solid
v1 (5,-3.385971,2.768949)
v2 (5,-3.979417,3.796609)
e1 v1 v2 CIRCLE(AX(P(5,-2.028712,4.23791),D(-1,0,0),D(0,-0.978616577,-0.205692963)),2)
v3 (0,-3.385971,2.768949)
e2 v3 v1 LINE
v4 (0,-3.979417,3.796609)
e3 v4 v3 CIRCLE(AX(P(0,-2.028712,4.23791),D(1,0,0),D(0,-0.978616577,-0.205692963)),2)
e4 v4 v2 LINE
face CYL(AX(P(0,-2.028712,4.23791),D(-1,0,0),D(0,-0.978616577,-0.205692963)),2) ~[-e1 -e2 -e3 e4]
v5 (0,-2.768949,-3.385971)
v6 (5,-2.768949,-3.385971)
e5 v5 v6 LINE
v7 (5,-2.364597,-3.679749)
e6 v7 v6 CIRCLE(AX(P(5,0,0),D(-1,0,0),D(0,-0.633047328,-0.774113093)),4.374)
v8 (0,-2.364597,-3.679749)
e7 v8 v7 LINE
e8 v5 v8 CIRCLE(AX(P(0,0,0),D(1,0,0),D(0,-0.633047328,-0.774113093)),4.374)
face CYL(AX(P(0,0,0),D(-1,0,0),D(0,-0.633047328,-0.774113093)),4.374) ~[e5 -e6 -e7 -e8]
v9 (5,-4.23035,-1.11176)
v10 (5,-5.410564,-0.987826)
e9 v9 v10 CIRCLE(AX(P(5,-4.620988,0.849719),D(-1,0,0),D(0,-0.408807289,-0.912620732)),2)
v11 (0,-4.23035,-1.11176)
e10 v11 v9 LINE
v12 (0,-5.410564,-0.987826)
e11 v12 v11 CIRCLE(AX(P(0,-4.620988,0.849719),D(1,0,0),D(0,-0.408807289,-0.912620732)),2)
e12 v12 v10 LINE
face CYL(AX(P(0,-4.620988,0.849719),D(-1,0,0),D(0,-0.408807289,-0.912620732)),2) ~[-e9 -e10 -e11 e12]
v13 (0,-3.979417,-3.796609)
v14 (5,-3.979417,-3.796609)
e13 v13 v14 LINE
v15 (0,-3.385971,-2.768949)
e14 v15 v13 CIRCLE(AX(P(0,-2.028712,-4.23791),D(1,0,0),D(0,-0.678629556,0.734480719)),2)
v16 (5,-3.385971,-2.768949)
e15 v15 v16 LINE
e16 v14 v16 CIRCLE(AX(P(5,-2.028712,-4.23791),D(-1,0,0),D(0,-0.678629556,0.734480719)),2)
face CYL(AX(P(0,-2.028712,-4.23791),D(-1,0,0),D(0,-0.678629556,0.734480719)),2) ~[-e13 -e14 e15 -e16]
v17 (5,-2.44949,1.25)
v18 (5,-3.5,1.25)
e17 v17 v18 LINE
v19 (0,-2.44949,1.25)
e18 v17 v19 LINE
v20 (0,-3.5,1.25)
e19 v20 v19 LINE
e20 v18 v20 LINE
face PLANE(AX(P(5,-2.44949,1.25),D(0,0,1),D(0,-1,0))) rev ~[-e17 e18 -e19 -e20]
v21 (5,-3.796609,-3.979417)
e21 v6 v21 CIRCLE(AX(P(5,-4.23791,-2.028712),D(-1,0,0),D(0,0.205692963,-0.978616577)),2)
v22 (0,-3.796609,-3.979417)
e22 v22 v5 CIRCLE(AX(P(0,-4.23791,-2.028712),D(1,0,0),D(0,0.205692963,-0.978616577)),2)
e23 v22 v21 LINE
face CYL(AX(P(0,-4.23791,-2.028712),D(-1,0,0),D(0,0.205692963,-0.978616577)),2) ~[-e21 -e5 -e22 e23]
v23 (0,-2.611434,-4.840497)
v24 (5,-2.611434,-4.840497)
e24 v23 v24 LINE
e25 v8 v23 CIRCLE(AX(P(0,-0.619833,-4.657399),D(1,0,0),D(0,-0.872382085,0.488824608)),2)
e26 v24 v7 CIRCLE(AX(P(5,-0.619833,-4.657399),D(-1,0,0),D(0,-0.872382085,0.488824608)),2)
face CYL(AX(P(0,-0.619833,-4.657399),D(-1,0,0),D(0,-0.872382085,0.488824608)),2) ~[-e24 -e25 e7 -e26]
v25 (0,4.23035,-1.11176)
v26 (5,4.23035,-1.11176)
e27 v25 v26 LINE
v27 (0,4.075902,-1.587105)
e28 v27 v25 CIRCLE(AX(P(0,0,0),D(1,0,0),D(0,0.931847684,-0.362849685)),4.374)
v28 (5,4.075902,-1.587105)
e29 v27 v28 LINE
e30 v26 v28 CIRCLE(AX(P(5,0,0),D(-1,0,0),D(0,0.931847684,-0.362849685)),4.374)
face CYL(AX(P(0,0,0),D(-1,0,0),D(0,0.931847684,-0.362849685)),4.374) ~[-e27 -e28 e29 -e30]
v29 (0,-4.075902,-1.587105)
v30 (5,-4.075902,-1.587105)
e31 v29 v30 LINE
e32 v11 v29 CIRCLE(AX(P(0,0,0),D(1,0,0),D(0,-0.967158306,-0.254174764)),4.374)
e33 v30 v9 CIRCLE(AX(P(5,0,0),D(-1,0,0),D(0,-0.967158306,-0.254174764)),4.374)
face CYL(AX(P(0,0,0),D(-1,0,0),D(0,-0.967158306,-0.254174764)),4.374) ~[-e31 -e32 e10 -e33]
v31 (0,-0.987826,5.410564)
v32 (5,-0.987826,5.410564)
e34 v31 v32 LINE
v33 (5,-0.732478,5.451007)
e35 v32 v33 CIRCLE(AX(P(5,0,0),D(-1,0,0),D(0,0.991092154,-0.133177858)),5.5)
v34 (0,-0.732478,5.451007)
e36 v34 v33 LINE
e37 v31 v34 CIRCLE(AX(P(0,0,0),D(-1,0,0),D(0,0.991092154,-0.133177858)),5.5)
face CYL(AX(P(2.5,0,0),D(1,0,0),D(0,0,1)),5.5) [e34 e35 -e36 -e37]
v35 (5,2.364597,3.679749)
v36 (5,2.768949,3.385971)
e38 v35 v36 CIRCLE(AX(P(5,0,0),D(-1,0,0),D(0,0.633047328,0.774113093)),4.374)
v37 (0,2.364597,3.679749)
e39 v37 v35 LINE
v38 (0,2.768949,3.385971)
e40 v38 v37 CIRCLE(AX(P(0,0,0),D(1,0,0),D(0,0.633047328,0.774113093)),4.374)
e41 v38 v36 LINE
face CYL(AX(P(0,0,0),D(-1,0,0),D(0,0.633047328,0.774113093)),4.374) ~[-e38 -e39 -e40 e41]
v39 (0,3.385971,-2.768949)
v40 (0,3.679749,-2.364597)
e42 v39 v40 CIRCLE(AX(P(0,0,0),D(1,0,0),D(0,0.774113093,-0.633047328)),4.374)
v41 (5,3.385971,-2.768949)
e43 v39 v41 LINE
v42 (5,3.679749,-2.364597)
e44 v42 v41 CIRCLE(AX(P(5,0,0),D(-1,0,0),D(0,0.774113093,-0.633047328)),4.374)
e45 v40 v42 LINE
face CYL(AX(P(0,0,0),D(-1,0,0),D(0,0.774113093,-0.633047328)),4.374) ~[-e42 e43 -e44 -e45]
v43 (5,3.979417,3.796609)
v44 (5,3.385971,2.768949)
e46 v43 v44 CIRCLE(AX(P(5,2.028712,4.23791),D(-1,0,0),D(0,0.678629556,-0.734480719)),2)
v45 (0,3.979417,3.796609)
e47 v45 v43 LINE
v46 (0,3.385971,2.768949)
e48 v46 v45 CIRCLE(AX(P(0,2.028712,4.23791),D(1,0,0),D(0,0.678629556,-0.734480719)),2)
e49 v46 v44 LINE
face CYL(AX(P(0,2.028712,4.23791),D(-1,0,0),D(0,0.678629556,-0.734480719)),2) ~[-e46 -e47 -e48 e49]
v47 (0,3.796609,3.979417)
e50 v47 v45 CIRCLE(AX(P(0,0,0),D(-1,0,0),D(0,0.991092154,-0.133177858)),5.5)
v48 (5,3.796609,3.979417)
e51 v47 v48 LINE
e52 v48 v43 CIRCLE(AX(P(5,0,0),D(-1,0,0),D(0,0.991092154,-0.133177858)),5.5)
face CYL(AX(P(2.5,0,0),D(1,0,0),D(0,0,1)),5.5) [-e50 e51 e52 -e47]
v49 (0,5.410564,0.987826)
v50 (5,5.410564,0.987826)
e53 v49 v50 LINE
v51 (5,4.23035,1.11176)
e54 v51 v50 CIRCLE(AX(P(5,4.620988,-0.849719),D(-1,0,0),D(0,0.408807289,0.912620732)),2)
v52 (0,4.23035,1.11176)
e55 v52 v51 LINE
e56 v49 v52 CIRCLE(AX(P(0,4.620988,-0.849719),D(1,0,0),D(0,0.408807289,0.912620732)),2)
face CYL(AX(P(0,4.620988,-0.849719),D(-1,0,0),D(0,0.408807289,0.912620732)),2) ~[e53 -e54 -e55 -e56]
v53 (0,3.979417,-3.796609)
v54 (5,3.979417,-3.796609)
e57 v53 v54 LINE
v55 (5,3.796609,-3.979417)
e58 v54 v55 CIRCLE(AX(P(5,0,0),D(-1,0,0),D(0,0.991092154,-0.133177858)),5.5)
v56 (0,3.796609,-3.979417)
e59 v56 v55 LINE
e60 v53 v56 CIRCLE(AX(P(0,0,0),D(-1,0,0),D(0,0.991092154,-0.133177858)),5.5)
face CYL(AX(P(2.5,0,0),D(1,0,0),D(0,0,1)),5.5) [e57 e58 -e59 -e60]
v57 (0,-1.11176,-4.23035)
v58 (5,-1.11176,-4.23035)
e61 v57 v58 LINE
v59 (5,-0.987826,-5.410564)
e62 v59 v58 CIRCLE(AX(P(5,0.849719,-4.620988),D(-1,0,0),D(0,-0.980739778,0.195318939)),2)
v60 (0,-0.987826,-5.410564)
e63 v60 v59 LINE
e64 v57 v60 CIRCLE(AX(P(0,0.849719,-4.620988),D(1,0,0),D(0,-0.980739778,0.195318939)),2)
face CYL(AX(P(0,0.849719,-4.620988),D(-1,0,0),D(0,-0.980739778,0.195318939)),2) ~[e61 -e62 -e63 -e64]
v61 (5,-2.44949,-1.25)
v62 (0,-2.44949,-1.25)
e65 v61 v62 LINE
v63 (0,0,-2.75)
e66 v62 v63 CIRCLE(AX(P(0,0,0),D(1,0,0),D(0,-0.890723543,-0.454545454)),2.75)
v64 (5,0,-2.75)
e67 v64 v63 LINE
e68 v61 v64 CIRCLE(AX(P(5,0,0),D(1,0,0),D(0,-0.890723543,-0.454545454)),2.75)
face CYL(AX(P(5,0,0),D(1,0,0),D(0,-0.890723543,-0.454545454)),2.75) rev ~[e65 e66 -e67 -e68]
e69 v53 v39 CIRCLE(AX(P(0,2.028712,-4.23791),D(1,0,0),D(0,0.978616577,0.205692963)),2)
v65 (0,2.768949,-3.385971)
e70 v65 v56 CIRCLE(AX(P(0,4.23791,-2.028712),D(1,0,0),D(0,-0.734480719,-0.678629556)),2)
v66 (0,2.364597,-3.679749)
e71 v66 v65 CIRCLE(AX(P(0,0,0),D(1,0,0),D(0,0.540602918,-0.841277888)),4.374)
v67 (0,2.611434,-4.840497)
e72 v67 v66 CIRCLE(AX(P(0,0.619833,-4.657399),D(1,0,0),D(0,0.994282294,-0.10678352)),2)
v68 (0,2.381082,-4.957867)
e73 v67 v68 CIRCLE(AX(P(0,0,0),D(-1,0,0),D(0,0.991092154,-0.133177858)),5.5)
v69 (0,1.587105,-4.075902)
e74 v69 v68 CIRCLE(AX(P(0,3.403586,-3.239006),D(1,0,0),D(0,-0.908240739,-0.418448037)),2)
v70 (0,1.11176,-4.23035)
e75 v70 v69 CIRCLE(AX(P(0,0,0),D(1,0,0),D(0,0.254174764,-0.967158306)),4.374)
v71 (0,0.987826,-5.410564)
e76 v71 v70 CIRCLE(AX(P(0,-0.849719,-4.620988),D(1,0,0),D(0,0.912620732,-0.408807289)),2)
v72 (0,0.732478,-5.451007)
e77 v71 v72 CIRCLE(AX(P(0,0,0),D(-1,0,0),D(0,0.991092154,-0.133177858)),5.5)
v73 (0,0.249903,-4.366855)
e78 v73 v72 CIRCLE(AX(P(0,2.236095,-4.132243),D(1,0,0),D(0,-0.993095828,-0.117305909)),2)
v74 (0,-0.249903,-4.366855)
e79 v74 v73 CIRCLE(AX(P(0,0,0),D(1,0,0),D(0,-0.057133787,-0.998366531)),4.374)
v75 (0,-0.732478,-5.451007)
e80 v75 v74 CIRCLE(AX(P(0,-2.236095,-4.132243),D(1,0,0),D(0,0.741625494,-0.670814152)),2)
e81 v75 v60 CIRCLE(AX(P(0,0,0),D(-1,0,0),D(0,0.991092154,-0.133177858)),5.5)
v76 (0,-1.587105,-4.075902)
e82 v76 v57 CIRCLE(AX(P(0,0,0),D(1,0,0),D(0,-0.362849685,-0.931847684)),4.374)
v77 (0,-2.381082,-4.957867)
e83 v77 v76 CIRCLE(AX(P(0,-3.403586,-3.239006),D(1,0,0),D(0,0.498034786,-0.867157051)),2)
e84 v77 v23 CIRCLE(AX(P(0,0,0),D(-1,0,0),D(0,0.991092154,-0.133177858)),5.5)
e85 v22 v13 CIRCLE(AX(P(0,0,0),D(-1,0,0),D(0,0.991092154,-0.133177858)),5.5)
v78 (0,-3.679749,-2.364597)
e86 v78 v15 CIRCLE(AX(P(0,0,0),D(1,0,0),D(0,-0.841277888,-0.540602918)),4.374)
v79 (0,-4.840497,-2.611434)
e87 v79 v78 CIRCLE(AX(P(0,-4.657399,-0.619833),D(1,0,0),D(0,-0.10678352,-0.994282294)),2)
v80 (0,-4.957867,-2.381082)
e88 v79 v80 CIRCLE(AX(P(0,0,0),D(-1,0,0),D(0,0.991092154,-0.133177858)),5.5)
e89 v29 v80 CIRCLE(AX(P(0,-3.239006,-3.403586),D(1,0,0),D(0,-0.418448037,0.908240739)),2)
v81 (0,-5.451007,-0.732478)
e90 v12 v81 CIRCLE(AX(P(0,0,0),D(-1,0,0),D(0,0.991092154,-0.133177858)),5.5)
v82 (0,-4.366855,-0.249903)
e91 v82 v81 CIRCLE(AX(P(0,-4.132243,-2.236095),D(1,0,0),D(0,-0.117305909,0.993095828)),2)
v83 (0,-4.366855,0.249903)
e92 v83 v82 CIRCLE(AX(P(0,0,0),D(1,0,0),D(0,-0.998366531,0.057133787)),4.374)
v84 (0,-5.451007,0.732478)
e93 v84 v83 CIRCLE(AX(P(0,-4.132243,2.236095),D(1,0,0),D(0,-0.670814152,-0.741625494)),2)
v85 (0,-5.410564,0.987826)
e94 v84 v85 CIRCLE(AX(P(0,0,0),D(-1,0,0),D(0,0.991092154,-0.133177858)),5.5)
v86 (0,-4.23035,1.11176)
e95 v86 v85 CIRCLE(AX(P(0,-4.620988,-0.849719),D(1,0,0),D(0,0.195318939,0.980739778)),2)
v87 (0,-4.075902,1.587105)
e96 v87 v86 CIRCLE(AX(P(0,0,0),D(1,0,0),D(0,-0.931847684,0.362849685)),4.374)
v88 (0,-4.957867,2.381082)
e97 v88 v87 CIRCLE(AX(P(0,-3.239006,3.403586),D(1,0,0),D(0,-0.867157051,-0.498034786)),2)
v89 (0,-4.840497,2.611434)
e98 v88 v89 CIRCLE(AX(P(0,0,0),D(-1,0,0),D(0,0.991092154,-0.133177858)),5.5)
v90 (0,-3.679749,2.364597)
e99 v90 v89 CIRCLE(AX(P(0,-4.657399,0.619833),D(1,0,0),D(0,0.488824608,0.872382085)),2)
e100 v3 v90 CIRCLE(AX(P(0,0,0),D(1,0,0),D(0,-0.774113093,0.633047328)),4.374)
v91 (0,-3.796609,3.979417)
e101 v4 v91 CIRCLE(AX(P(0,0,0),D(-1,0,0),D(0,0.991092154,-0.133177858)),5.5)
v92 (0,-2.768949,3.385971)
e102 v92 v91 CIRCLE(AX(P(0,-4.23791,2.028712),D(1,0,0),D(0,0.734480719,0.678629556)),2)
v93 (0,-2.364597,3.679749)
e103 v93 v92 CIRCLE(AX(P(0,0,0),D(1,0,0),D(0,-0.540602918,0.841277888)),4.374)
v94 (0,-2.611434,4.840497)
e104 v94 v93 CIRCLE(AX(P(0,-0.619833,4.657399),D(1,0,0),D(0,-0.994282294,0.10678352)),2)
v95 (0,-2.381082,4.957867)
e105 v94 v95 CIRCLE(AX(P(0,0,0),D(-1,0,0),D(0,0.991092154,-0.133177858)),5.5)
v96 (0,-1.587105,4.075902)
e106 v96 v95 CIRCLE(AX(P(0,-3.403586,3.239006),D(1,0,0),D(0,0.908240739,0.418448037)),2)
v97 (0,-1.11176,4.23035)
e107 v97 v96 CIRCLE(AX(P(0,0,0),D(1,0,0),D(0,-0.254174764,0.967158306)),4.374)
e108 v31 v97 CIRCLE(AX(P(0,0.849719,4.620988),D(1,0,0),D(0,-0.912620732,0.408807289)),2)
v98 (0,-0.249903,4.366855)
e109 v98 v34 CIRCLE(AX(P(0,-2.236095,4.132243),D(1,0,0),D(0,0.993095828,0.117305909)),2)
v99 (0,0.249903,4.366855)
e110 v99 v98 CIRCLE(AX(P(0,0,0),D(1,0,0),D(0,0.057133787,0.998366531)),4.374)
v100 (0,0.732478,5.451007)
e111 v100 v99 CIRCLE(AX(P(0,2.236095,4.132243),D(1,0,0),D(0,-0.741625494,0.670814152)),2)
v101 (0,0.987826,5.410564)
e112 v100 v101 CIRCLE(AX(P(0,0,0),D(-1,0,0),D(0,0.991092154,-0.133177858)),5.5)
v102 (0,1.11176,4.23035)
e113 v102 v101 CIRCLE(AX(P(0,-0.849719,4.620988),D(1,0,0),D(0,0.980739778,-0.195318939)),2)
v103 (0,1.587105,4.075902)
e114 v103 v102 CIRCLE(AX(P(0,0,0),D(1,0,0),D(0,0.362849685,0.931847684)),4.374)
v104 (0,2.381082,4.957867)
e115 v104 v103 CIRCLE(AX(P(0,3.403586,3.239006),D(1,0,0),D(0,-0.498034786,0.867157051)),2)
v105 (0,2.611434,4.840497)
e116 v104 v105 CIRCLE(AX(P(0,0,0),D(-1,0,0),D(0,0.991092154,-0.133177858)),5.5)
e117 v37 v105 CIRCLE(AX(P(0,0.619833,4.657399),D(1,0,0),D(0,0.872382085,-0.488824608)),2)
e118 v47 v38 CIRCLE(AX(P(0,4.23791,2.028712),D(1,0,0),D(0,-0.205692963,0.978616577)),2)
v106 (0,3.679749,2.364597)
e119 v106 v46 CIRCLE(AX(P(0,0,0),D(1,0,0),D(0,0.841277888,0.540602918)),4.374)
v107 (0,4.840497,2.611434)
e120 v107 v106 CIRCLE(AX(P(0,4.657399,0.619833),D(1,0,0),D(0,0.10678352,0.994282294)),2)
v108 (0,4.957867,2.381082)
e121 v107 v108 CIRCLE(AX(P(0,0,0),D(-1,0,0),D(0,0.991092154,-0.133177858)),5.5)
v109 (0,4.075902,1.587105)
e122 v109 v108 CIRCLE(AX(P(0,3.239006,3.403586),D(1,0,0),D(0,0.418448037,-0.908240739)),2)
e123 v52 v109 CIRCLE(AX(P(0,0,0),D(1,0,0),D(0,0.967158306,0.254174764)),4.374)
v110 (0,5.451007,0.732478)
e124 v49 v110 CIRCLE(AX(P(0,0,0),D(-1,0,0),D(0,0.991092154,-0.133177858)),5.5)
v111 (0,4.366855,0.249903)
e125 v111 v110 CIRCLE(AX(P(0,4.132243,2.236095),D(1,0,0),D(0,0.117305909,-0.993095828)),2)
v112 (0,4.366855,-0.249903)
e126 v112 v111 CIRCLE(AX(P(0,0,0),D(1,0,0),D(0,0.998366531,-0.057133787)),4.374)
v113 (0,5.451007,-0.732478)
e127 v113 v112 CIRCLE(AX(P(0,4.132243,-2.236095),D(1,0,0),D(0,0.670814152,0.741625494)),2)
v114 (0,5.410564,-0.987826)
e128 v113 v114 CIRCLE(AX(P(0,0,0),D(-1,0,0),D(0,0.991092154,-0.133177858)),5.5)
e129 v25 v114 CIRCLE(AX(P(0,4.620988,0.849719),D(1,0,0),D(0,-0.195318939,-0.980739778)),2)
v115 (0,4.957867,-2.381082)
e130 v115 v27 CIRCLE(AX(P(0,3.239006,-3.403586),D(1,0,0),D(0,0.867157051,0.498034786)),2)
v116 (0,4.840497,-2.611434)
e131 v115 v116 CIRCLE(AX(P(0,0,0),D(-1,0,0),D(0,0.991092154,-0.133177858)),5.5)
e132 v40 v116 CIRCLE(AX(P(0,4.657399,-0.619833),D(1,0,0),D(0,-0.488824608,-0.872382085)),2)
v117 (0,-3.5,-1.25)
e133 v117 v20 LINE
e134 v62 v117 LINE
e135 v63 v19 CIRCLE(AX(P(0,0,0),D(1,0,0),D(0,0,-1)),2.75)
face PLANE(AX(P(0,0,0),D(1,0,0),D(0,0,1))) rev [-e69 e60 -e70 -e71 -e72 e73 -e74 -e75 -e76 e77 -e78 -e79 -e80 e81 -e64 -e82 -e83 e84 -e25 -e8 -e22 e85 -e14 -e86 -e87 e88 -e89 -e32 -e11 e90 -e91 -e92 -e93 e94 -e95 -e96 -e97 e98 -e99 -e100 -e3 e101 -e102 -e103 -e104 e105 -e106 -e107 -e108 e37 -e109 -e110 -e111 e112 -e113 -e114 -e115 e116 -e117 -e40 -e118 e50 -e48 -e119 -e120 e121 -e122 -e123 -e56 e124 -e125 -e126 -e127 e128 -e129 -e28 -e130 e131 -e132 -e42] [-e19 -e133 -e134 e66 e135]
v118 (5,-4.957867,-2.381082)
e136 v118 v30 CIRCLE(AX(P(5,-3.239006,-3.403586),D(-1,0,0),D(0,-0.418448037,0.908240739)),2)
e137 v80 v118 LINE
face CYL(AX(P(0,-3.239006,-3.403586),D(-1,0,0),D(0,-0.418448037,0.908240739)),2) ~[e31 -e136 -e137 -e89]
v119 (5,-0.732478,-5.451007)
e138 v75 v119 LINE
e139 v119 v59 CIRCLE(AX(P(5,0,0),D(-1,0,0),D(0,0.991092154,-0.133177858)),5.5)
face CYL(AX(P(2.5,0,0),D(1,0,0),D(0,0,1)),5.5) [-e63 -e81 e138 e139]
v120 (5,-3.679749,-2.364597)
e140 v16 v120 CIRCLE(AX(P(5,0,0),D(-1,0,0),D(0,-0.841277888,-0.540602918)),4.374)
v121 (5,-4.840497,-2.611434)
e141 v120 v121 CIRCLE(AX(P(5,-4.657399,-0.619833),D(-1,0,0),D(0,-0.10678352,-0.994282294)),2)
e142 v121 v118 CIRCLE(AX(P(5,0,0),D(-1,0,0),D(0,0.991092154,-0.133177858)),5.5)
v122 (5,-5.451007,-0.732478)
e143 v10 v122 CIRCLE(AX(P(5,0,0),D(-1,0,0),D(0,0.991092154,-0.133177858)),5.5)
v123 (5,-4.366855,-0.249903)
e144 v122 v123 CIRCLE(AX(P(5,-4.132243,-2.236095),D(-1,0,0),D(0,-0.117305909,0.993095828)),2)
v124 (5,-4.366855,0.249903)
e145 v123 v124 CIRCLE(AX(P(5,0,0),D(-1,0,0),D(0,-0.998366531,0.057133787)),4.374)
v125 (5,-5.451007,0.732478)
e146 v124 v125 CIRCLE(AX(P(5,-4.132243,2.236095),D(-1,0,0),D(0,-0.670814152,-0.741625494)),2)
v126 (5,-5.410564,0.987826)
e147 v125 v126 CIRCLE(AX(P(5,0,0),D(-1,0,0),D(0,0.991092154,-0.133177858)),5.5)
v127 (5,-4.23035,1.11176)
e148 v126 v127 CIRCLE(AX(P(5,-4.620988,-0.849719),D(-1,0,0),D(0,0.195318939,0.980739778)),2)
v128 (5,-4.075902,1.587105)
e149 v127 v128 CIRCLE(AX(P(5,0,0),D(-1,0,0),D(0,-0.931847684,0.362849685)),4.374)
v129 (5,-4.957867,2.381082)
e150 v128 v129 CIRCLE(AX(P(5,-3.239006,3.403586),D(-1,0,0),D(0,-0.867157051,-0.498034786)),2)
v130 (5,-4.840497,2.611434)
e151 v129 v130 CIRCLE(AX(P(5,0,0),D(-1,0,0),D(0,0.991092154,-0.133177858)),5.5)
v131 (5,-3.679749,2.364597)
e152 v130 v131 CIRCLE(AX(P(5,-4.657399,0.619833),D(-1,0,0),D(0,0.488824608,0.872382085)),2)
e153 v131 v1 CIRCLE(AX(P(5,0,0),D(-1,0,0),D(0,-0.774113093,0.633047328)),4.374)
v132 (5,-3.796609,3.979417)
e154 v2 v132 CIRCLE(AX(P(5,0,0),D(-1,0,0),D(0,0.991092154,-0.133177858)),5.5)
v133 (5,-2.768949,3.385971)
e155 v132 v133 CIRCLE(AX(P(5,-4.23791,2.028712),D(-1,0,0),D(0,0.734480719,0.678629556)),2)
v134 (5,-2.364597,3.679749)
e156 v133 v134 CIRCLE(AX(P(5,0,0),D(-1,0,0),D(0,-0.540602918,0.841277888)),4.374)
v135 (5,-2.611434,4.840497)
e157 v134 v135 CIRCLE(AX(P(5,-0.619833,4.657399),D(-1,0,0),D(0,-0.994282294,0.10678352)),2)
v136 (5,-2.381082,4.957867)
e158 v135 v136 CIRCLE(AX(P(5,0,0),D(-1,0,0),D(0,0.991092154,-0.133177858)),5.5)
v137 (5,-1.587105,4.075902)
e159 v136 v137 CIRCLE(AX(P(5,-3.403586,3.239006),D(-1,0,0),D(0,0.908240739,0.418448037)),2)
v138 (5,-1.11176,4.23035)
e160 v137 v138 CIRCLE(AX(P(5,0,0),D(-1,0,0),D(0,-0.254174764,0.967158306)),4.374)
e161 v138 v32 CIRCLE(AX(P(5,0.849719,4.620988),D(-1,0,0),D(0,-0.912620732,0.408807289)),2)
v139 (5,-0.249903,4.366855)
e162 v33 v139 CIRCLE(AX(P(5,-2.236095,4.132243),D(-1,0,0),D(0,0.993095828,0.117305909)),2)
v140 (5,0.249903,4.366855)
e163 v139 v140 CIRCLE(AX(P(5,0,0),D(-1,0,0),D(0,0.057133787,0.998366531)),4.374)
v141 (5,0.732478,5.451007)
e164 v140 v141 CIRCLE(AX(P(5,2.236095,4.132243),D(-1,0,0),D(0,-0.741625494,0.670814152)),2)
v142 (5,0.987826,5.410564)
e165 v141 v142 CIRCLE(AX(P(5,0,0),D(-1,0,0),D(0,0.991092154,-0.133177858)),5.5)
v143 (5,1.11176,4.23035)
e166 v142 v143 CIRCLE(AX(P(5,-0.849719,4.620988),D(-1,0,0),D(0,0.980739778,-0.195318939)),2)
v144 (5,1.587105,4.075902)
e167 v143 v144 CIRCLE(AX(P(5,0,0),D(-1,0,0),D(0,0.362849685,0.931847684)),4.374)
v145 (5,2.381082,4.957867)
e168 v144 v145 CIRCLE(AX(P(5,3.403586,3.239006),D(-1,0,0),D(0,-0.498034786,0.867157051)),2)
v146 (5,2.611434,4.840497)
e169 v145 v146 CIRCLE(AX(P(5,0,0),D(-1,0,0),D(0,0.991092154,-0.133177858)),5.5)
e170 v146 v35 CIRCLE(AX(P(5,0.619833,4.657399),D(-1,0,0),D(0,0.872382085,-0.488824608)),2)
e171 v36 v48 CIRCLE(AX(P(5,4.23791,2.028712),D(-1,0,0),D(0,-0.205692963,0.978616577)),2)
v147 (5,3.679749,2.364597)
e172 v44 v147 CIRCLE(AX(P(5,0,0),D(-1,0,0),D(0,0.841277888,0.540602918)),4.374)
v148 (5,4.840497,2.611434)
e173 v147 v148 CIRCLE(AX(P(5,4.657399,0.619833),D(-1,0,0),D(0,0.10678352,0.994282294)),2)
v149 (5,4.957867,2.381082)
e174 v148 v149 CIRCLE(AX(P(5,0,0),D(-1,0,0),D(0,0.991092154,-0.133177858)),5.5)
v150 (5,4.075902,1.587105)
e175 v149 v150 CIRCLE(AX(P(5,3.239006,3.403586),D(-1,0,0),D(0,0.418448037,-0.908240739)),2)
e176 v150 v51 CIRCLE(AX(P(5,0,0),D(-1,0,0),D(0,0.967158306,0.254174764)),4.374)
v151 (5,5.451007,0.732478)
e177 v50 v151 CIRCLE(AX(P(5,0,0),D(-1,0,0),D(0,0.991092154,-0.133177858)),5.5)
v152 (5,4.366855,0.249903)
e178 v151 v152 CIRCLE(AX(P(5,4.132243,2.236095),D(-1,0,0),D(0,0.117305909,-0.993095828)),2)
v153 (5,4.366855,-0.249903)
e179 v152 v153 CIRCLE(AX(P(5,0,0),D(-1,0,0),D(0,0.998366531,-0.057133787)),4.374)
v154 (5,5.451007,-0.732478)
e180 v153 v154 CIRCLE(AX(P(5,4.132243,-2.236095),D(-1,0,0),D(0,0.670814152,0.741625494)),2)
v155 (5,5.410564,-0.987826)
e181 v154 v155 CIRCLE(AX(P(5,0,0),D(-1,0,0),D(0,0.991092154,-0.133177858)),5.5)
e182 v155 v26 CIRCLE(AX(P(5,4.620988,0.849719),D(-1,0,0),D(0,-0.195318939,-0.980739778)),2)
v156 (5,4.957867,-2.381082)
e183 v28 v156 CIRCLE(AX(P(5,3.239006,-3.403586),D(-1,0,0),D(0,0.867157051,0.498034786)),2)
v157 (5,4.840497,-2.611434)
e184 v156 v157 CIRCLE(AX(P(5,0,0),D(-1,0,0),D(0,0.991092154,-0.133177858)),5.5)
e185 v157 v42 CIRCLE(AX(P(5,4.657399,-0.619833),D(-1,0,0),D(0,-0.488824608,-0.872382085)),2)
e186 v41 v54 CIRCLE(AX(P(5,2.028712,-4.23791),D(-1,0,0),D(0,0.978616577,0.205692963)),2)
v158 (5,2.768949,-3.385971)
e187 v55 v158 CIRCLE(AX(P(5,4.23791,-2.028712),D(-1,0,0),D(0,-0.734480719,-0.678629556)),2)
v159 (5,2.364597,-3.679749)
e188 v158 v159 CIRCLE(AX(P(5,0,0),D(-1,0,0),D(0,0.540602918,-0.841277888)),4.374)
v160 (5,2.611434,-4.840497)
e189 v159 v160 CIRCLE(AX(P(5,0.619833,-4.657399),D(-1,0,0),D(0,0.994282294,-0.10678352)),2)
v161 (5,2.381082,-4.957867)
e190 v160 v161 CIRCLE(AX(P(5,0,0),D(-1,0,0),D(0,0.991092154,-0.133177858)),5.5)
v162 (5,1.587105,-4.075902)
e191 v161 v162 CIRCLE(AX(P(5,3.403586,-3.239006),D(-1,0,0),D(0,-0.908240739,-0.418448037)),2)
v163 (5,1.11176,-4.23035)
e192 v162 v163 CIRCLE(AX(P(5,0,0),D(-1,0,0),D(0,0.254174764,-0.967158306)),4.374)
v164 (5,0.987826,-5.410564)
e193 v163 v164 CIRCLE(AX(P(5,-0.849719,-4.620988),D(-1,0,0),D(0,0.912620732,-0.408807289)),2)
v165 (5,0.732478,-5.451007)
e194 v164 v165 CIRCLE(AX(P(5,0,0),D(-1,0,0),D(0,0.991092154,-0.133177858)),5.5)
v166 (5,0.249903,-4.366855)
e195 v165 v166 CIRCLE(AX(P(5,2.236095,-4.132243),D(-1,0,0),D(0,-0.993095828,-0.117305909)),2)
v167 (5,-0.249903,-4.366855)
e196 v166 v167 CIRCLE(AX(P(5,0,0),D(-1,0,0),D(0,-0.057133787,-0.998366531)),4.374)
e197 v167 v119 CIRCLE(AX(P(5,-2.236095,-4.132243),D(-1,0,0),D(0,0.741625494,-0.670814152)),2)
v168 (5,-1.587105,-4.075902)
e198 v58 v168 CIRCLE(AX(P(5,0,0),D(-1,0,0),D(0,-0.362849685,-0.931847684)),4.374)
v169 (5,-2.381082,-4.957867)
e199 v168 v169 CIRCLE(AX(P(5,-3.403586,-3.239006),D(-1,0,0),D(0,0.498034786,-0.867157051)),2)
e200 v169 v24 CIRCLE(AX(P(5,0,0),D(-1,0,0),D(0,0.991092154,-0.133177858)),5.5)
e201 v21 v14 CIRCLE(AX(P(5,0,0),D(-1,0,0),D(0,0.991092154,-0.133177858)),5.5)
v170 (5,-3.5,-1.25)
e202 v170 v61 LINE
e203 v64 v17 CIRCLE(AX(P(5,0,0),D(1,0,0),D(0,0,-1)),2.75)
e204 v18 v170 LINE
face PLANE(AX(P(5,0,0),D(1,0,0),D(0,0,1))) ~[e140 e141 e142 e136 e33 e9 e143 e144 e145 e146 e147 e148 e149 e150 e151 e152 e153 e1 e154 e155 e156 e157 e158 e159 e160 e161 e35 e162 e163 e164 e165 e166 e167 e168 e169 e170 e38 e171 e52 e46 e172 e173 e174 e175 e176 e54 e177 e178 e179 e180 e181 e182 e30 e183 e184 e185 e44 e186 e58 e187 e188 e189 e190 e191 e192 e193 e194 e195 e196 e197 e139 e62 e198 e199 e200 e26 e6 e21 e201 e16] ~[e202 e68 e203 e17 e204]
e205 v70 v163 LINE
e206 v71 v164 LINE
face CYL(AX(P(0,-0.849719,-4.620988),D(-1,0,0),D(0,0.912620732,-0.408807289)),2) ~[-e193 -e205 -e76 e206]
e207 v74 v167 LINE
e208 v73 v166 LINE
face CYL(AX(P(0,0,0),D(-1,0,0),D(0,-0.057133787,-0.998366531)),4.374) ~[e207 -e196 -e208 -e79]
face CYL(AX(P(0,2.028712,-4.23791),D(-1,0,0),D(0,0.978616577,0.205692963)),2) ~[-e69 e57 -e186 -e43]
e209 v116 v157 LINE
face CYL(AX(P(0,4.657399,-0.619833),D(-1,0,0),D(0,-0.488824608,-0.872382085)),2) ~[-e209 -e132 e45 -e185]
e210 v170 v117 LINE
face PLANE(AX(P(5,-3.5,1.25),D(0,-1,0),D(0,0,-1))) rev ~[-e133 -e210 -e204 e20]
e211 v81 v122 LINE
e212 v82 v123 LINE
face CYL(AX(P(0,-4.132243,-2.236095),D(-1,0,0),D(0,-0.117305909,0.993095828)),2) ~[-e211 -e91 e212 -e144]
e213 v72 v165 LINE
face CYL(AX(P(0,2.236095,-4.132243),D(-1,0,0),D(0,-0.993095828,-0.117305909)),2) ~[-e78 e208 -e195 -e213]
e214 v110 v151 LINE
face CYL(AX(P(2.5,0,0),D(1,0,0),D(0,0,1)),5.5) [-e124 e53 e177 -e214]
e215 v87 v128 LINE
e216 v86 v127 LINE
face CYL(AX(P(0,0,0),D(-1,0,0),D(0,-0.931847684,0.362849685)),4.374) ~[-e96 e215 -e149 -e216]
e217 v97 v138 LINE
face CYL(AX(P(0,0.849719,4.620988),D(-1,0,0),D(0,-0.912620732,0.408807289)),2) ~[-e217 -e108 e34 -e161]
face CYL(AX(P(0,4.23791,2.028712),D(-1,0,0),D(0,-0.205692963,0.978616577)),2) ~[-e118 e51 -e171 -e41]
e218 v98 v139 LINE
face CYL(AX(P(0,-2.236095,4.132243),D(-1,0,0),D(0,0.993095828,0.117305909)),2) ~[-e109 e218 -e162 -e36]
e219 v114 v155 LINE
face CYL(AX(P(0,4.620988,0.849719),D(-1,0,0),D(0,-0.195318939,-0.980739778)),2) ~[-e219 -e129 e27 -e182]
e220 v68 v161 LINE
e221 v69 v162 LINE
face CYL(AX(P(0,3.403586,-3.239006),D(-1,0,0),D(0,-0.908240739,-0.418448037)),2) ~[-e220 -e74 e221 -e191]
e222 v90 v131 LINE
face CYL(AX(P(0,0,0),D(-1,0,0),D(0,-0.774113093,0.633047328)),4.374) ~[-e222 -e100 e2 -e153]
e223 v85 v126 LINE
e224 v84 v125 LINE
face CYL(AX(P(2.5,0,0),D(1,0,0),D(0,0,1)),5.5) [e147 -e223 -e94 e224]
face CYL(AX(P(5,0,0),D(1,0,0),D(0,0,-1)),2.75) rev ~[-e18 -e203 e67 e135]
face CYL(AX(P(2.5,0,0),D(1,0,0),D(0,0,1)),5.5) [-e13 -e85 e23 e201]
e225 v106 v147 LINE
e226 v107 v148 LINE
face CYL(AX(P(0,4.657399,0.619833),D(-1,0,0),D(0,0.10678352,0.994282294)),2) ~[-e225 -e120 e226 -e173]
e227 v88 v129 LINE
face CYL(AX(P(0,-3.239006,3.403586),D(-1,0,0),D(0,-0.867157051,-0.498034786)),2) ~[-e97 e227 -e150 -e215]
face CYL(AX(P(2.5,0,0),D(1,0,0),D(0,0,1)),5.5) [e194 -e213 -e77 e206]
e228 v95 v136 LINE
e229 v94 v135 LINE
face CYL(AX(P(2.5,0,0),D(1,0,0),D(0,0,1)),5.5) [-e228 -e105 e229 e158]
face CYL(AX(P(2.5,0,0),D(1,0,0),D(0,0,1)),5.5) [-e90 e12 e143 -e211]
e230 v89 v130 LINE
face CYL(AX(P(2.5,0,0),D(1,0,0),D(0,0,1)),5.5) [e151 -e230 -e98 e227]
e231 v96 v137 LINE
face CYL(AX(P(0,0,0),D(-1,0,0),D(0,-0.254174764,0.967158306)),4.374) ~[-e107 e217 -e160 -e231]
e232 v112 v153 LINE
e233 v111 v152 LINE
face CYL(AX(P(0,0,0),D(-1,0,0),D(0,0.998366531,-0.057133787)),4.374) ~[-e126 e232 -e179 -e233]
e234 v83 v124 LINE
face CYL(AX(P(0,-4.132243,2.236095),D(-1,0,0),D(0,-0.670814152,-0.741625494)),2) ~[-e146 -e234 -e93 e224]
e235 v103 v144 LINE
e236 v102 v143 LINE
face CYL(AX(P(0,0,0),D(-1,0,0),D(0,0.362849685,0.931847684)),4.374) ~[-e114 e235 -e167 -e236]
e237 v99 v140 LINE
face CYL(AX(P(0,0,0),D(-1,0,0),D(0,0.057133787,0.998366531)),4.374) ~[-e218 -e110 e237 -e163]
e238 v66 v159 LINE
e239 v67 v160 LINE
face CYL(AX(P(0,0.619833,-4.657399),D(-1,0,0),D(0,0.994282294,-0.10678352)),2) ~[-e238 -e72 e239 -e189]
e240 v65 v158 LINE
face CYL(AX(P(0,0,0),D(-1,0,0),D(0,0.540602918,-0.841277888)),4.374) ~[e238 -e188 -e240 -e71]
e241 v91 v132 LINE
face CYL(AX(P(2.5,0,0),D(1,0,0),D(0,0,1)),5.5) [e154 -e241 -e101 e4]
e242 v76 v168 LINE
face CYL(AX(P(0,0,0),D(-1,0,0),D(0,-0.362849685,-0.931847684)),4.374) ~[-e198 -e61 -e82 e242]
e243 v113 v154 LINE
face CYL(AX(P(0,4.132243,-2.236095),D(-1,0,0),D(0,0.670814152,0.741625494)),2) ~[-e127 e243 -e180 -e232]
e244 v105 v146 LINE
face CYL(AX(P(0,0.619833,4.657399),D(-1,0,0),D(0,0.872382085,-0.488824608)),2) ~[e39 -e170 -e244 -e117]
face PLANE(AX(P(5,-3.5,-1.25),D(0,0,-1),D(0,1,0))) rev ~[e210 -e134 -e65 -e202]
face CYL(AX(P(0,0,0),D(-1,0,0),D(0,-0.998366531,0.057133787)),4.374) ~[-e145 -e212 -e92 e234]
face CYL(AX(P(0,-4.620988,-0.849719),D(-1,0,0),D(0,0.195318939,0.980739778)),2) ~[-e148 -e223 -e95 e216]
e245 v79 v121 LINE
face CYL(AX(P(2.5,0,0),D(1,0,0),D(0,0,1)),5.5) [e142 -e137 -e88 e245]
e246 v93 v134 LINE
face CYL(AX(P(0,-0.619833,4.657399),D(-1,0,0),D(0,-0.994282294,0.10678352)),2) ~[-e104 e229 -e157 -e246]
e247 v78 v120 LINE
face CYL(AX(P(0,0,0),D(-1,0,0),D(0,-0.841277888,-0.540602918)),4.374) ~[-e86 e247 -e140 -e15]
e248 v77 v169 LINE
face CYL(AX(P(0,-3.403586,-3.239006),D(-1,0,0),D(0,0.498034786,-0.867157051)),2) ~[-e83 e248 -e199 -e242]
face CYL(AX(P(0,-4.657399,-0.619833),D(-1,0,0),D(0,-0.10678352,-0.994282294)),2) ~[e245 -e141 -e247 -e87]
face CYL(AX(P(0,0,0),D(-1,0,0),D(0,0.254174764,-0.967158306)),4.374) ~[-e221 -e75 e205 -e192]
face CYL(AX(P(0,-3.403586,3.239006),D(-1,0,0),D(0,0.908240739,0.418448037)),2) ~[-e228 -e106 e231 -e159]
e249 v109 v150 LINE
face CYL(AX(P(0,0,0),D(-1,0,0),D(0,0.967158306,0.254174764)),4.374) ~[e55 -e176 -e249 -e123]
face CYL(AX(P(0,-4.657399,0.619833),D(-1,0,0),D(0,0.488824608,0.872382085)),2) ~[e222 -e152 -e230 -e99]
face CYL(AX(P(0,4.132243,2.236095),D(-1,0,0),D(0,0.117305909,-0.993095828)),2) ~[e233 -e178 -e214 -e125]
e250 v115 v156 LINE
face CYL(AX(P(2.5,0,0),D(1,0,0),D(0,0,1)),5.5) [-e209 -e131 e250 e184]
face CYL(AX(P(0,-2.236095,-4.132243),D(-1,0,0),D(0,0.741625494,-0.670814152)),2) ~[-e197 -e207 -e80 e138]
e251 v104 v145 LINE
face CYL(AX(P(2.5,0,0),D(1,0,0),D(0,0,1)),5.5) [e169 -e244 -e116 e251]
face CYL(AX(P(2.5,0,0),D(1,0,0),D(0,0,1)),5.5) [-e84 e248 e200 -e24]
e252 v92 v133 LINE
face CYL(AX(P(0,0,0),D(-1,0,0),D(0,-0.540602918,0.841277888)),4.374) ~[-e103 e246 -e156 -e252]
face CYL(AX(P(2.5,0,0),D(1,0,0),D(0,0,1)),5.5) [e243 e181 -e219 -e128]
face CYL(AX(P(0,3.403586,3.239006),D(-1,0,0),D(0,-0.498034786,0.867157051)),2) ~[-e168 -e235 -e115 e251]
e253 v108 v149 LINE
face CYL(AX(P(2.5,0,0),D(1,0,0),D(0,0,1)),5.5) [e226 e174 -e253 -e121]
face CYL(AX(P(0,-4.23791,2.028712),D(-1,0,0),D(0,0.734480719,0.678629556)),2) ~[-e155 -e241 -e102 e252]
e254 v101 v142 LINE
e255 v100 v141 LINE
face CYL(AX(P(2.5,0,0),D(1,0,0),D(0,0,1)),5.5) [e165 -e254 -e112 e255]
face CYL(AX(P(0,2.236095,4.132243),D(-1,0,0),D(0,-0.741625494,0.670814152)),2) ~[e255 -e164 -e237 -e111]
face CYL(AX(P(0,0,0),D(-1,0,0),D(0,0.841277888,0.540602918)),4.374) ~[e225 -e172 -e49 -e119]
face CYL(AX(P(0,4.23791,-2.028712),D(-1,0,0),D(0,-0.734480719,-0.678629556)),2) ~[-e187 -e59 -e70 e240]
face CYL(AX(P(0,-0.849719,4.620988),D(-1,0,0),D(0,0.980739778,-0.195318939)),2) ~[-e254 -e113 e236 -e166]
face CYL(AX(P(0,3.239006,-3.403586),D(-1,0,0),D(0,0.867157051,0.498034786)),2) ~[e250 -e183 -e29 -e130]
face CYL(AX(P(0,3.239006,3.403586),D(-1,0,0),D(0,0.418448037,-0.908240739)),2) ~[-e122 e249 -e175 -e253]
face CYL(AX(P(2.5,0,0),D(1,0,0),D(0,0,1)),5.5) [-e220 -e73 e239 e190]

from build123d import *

# Parameters (mm, degrees)
BASPROSKE_W             = 5
BASPROSKE_H             = 5.5
TOOTHCUT_DEPTH          = 10.246621004
TEETHCUTS_COUNT         = 20
TEETHCUTS_ANGLE         = 342
BORSKE_R                = 0.5
BORE_DEPTH              = 50.0000508
CUT_EXTRUDE1_DEPTH      = 10.188413972
CUT_EXTRUDE1_DEPTH_BACK = 10.188413972


with BuildPart() as part:
    # BasProSke → Base-Revolve (revolve)
    with BuildSketch(Plane(origin=(0, 0, 0), x_dir=(1, 0, 0), z_dir=(0, 1, 0)), mode=Mode.PRIVATE) as base_revolve_sk:
        with Locations((2.5, 2.75)):
            Rectangle(BASPROSKE_W, BASPROSKE_H)
    revolve(base_revolve_sk.sketch.rotate(Axis((-10, 0, 0), (1, 0, 0)), 180), axis=Axis((-10, 0, 0), (1, 0, 0)))

    # TooCutSke → ToothCut (cut, through all)
    with BuildSketch(Plane(origin=(0, 0, 0), x_dir=(0, 0, -1), z_dir=(1, 0, 0))):
        with BuildLine():
            ThreePointArc((0.249903181, 4.366855207), (0, 4.374), (-0.249903181, 4.366855207))
            ThreePointArc((-0.249903181, 4.366855207), (-0.415207844, 4.95951031), (-0.752843848, 5.473871692))
            ThreePointArc((-0.752843848, 5.473871692), (0, 5.5254), (0.752843848, 5.473871692))
            ThreePointArc((0.752843848, 5.473871692), (0.415207844, 4.95951031), (0.249903181, 4.366855207))
        make_face()
    toothcut = extrude(amount=TOOTHCUT_DEPTH, mode=Mode.SUBTRACT)

    # TeethCuts: ToothCut ×20 about axis
    teethcuts_axis = Axis((-10, 0, 0), (1, 0, 0))
    for i in range(1, TEETHCUTS_COUNT):
        add(toothcut.rotate(teethcuts_axis, i * TEETHCUTS_ANGLE / (TEETHCUTS_COUNT - 1)), mode=Mode.SUBTRACT)

    # BorSke → Bore (cut, symmetric)
    with BuildSketch(Plane(origin=(0, 0, 0), x_dir=(0, 0, -1), z_dir=(1, 0, 0))):
        with Locations(Location((0, 0, 0), (0, 0, 180))):
            Circle(BORSKE_R)
    extrude(amount=BORE_DEPTH, both=True, mode=Mode.SUBTRACT)

    # Sketch1 → Cut-Extrude1 (cut, two sides)
    with BuildSketch(Plane(origin=(5, 0, 0), x_dir=(0, 0, -1), z_dir=(1, 0, 0))) as cut_extrude1_sk:
        with BuildLine():
            Line((1.25, -1.759357098), (-1.25, -1.759357098))
            Line((-1.25, -1.759357098), (-1.25, -2.449489743))
            ThreePointArc((-1.25, -2.449489743), (0, -2.75), (1.25, -2.449489743))
            Line((1.25, -2.449489743), (1.25, -1.759357098))
        make_face()
        with BuildLine():
            Line((-1.25, -2.449489743), (-1.25, -1.759357098))
            Line((-1.25, -1.759357098), (1.25, -1.759357098))
            Line((1.25, -1.759357098), (1.25, -2.449489743))
            ThreePointArc((1.25, -2.449489743), (2.34520788, -1.436140662), (2.75, 0))
            ThreePointArc((2.75, 0), (-1.436140662, 2.34520788), (-1.25, -2.449489743))
        make_face()
        with BuildLine():
            ThreePointArc((1.25, -2.449489743), (0, -2.75), (-1.25, -2.449489743))
            Line((-1.25, -2.449489743), (-1.25, -3.5))
            Line((-1.25, -3.5), (1.25, -3.5))
            Line((1.25, -3.5), (1.25, -2.449489743))
        make_face()
    extrude(amount=CUT_EXTRUDE1_DEPTH, mode=Mode.SUBTRACT)
    extrude(cut_extrude1_sk.sketch, amount=-CUT_EXTRUDE1_DEPTH_BACK, mode=Mode.SUBTRACT)


solid = part.part
